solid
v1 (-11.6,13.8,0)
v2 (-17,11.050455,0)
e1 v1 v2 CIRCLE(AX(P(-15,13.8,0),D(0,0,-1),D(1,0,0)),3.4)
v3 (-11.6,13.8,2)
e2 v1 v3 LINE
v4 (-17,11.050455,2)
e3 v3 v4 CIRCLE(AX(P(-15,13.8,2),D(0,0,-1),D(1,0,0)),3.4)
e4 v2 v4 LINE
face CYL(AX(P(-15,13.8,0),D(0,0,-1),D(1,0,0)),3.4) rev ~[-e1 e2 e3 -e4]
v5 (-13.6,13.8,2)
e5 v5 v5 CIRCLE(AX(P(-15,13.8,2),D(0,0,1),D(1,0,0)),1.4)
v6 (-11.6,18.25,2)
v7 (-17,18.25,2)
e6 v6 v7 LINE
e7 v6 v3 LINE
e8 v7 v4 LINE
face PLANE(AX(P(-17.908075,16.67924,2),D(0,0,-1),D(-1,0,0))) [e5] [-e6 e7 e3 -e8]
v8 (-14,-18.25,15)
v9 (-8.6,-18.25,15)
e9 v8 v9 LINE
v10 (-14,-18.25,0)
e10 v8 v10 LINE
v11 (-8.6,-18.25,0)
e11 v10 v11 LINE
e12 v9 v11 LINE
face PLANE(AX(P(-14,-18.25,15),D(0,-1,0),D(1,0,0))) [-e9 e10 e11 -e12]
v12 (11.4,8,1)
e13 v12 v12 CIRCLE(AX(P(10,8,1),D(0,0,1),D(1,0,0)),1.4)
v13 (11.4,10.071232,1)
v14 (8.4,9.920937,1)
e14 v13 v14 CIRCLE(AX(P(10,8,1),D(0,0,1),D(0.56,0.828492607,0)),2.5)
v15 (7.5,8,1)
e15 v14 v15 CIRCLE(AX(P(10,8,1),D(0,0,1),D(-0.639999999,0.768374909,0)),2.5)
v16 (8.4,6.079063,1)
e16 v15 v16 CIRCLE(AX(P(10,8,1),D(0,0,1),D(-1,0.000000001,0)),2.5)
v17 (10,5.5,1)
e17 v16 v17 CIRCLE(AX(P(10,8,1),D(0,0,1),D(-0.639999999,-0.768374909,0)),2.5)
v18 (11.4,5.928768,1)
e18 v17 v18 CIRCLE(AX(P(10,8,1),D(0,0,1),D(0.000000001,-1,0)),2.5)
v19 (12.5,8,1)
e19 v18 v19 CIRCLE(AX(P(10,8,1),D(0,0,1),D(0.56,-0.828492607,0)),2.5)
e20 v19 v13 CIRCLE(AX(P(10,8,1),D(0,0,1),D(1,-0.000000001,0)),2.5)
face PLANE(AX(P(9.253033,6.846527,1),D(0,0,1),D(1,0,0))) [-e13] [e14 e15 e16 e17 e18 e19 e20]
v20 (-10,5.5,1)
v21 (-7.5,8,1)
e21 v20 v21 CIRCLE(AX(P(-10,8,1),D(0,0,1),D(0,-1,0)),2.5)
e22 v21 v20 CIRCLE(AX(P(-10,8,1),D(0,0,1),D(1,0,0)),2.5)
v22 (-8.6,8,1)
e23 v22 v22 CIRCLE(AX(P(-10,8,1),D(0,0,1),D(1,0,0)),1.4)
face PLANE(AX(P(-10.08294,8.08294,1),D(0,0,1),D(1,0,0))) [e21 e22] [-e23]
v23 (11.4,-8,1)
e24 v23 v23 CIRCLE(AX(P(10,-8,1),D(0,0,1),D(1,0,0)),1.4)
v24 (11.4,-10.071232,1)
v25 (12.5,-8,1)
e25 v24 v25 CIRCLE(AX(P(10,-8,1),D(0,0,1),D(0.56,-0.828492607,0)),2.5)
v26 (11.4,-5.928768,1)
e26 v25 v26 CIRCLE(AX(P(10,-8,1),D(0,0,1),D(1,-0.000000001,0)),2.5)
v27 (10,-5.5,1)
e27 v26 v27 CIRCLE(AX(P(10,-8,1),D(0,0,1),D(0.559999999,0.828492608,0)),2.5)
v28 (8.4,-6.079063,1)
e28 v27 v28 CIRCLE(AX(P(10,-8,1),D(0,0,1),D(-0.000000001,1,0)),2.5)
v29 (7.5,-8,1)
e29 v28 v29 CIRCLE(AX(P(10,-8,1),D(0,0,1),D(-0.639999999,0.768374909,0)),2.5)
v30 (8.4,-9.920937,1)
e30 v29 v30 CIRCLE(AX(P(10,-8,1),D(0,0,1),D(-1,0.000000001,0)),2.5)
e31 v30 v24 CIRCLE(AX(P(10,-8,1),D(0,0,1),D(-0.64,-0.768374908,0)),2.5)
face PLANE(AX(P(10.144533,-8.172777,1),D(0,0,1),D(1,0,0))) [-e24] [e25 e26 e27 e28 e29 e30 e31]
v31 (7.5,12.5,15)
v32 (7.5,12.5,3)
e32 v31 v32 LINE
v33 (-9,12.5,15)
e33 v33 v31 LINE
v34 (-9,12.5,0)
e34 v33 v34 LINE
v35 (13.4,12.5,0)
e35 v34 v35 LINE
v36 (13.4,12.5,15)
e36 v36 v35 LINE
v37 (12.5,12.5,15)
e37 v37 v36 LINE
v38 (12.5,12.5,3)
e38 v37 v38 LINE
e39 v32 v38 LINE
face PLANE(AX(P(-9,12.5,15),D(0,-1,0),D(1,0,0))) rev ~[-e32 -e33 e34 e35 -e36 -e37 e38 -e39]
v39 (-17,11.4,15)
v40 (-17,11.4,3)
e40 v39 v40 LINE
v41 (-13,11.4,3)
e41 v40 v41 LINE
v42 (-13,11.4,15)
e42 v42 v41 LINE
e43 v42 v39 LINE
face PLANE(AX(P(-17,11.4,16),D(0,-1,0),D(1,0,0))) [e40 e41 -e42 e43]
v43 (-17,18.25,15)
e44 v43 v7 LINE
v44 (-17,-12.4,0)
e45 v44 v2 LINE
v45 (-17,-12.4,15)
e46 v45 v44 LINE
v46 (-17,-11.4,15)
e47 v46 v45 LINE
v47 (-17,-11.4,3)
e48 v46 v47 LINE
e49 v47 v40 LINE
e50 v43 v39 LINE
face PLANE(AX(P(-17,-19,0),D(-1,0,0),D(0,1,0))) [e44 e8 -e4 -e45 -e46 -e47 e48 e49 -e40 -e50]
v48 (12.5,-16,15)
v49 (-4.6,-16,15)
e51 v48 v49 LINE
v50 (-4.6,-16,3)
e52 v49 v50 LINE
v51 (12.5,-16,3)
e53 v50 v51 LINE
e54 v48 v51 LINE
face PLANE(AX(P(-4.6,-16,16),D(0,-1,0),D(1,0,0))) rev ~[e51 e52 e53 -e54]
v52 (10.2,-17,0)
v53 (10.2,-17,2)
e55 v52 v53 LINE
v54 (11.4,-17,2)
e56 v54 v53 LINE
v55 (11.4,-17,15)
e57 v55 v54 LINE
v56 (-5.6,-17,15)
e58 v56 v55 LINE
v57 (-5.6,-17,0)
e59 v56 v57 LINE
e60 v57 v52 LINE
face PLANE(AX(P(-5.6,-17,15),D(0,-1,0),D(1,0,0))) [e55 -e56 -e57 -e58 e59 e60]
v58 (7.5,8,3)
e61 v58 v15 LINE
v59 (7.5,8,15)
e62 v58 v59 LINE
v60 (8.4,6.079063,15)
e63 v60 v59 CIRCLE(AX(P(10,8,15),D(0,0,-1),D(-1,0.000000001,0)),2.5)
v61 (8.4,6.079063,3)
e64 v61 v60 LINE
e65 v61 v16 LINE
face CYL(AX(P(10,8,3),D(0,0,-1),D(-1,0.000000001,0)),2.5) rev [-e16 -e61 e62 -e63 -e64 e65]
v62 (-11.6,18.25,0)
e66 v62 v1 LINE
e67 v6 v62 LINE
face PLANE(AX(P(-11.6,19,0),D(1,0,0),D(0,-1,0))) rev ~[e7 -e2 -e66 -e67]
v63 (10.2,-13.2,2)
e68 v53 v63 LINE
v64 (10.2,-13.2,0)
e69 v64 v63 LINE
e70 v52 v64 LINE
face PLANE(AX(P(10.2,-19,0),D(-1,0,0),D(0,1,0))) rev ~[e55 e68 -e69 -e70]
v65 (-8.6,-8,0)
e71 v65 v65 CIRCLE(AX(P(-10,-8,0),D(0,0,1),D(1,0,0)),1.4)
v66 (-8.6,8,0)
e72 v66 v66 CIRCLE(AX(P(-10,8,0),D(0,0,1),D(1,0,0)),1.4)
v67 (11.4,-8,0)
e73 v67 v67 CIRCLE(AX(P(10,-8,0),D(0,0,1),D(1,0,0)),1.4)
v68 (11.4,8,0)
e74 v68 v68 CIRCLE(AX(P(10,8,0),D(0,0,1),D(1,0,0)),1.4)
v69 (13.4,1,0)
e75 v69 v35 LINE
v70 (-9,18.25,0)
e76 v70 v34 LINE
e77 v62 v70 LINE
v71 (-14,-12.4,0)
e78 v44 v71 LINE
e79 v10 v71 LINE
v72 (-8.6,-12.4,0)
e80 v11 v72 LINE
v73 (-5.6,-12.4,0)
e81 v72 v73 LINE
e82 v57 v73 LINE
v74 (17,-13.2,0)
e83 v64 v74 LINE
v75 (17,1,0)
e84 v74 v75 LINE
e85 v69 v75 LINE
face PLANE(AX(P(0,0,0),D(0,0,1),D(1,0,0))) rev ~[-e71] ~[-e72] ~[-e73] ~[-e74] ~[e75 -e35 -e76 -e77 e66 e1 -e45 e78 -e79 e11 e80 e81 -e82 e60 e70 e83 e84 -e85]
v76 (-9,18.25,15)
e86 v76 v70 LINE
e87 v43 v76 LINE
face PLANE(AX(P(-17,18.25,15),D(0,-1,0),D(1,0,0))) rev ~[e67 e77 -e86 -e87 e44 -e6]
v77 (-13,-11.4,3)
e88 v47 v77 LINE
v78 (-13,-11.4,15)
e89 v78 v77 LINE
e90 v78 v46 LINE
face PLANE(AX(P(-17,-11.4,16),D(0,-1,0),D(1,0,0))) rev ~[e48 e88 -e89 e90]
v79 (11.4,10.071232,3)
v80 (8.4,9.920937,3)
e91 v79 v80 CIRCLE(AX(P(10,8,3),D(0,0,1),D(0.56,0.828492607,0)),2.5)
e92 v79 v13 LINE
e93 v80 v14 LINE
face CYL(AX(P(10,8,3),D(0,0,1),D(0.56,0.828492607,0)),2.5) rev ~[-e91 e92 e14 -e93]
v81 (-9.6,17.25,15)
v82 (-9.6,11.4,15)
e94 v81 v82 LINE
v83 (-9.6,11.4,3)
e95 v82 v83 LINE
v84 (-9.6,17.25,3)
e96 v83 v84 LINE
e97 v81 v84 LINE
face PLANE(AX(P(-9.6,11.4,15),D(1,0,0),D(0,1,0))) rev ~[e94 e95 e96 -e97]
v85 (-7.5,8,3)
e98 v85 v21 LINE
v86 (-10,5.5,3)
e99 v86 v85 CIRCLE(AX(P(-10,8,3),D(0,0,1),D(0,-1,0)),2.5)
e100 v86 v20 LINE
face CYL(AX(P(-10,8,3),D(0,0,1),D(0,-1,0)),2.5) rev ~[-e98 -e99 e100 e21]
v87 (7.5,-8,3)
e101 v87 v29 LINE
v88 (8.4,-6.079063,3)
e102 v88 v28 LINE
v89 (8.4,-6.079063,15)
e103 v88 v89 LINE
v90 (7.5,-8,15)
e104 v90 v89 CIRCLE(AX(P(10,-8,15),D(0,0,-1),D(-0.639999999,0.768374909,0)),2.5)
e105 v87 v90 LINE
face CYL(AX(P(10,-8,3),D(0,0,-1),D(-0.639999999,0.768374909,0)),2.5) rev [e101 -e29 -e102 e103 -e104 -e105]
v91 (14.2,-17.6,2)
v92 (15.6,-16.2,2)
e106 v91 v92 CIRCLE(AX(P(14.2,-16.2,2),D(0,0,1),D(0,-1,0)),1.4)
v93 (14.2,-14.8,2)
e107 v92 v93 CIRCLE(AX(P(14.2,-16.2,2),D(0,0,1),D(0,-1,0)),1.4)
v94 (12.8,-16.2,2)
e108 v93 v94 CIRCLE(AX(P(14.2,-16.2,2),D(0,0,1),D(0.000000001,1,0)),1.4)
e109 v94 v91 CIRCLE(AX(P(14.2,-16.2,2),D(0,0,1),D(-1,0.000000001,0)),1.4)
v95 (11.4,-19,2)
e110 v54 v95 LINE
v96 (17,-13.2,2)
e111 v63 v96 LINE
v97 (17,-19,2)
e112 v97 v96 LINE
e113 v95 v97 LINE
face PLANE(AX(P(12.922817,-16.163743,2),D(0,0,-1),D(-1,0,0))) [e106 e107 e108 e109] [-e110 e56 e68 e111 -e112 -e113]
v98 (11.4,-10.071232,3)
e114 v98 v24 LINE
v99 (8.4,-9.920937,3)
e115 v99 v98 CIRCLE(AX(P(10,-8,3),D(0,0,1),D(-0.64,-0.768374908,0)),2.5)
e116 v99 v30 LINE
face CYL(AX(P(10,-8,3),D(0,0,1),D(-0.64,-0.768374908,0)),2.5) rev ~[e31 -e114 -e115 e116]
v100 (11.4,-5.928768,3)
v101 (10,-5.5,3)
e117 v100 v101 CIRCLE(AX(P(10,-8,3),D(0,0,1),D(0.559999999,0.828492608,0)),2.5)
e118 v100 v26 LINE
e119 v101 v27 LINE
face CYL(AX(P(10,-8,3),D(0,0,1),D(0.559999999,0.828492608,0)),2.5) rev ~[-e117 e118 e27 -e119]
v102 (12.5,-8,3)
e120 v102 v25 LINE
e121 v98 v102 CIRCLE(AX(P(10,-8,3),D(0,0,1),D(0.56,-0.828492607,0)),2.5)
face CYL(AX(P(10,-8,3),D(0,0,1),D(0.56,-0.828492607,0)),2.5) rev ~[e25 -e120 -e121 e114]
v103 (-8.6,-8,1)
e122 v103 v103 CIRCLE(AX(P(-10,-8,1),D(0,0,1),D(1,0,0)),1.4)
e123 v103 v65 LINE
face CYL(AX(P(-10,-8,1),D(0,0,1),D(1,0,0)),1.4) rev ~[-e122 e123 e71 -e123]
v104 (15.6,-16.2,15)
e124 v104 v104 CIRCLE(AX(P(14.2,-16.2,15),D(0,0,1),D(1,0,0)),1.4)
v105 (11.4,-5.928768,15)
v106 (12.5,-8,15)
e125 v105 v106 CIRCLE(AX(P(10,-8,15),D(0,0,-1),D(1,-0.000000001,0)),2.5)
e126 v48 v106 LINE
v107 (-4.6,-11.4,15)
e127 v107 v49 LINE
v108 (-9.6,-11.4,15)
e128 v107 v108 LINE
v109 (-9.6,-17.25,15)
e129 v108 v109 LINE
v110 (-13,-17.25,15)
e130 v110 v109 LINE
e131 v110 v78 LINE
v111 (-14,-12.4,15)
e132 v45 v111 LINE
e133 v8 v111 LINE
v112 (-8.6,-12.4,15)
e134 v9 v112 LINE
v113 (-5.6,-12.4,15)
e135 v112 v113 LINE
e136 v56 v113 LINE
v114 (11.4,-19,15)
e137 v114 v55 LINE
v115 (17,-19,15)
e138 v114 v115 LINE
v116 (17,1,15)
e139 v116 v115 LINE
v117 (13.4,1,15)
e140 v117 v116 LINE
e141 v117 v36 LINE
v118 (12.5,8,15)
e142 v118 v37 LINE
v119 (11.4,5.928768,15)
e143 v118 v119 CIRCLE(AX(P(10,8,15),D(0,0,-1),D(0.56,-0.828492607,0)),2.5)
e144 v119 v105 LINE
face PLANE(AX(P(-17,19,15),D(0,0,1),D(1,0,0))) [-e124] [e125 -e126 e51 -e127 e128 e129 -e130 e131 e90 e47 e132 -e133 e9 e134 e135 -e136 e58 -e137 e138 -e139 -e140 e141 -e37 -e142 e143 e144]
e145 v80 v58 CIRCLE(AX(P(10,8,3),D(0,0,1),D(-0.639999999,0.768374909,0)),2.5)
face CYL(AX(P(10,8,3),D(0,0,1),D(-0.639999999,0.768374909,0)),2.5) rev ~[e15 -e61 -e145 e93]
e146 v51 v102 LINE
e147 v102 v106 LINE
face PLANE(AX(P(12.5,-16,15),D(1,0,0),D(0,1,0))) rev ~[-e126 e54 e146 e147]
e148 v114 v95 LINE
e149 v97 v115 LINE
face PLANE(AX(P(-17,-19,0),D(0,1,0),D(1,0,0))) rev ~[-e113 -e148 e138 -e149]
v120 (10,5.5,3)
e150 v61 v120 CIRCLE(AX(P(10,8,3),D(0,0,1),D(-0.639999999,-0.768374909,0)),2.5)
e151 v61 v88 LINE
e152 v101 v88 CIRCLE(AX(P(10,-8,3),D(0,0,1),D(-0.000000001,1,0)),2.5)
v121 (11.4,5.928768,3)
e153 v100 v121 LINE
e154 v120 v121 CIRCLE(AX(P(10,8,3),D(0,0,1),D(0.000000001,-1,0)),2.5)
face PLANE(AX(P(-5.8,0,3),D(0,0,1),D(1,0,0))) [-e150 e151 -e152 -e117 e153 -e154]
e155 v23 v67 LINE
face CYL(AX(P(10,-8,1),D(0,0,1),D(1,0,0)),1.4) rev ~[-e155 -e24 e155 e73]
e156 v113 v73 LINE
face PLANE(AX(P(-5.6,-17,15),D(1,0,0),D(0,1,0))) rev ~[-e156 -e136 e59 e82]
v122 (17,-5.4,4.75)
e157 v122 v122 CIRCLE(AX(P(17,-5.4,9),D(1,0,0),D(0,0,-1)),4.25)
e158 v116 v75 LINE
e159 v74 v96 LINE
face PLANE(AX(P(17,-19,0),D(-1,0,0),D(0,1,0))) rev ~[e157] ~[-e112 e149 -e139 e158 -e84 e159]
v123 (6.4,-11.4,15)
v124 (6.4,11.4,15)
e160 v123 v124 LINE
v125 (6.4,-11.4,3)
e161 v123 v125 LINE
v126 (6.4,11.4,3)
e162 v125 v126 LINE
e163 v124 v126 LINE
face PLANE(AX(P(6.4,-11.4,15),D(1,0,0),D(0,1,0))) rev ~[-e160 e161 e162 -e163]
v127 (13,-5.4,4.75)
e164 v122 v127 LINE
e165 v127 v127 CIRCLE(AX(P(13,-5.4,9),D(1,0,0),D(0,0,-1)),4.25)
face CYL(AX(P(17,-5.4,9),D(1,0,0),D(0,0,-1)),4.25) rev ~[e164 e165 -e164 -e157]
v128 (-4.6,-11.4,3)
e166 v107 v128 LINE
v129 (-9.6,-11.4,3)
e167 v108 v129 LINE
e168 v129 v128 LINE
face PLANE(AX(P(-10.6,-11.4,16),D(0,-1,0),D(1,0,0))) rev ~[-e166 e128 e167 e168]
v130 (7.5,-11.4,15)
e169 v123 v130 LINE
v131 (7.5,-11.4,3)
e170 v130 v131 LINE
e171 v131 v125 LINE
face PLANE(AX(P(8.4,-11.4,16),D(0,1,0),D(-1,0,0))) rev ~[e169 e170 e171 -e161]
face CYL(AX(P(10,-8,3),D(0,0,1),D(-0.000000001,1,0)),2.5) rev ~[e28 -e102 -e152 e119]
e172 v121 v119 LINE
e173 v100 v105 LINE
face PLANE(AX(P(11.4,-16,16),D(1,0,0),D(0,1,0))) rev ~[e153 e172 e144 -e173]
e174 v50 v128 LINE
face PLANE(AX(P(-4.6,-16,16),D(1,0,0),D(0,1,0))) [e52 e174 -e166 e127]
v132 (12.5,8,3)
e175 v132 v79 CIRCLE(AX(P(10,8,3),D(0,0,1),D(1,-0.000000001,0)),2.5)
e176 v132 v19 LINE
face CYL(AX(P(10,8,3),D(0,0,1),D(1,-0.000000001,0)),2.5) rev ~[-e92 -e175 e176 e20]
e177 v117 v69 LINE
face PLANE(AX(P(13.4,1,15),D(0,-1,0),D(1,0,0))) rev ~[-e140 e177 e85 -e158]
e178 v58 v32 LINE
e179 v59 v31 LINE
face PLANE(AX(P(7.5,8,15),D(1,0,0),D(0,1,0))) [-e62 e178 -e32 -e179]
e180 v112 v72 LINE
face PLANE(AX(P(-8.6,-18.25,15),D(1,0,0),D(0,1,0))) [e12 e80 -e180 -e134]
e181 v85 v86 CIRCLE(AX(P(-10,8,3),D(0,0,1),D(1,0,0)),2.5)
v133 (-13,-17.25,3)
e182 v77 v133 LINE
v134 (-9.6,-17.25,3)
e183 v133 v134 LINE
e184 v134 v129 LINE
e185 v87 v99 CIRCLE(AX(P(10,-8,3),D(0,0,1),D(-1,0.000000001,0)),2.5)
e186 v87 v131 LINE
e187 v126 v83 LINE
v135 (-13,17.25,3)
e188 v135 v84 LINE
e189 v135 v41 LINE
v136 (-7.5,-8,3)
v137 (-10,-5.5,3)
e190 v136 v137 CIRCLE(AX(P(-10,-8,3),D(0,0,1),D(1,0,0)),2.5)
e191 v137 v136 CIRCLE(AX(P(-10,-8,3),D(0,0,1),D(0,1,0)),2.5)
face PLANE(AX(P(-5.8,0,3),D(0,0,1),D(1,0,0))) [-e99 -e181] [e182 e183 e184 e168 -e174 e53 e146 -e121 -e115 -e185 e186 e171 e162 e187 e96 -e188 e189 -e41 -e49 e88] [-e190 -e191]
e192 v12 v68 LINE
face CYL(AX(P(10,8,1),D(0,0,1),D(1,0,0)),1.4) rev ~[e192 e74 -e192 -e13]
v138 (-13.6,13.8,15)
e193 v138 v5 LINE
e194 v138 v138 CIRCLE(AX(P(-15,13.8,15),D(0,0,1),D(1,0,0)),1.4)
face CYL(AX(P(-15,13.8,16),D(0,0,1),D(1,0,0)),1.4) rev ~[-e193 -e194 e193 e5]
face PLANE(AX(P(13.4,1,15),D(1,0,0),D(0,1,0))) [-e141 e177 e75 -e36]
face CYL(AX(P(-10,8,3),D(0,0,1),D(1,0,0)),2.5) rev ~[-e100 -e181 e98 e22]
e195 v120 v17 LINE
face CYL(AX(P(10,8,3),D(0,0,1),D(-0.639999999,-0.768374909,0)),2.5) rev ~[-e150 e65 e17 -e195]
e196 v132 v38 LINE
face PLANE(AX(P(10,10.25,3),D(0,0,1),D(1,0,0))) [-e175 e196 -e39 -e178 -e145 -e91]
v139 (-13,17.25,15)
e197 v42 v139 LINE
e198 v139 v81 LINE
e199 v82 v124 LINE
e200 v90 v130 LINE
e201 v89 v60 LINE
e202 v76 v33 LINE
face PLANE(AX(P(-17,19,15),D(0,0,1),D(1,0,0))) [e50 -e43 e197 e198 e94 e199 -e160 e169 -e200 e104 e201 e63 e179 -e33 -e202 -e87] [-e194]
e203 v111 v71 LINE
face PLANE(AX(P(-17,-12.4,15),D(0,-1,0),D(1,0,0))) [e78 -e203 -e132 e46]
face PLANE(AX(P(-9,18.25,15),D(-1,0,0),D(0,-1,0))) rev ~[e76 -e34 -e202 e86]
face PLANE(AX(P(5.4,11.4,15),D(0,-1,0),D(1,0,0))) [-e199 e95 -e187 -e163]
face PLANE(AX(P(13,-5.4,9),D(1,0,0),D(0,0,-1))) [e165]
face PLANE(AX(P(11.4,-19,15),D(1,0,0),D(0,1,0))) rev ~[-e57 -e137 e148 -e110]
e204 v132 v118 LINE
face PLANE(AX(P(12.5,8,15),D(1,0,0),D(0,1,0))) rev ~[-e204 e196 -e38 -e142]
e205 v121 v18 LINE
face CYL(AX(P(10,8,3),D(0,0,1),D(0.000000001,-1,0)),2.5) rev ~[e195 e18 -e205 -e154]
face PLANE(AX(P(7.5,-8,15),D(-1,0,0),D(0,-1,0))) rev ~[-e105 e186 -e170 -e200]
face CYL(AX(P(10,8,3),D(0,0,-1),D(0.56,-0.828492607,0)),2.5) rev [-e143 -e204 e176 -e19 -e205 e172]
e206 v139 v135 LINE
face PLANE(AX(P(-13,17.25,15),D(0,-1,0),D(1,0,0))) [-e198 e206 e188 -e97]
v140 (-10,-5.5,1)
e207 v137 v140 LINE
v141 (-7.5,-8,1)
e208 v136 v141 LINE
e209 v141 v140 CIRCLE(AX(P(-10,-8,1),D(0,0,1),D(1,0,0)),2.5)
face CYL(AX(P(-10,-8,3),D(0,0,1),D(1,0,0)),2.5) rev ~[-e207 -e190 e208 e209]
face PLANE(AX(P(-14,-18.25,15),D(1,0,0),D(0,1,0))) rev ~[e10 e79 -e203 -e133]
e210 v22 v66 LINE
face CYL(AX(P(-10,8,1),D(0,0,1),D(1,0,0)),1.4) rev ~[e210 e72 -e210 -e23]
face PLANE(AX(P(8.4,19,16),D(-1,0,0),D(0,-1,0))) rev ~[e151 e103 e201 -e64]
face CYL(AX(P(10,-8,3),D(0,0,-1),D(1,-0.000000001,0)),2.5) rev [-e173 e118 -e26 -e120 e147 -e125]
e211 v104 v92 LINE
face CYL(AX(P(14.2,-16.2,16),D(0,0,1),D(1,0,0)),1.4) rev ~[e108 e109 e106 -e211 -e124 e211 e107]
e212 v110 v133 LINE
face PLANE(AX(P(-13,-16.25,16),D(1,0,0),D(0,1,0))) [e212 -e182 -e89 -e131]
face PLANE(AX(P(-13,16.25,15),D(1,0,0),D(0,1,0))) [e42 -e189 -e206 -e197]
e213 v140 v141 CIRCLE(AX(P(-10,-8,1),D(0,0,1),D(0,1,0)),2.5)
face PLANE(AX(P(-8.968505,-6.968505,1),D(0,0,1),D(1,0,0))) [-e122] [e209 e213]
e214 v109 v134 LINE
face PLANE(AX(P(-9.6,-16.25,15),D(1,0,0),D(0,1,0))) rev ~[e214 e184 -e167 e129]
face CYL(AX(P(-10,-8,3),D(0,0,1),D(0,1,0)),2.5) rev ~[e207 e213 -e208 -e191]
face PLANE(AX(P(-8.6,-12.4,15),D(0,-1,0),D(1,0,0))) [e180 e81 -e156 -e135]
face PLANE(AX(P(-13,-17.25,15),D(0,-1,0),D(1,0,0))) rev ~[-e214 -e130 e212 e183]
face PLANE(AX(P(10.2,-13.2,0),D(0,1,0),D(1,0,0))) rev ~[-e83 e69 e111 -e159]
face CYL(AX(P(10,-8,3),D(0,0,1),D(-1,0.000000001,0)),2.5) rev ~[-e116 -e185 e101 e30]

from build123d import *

# Parameters (mm, degrees)
SKETCH1_W                = 34
SKETCH1_H                = 38
BOSS_EXTRUDE1_DEPTH      = 16
SKETCH2_W                = 22.4
SKETCH2_H                = 22.8
SKETCH2_W_2              = 2.4
SKETCH2_H_2              = 4.85
CUT_EXTRUDE1_DEPTH       = 13
SKETCH3_W                = 10
SKETCH3_H                = 4.6
SKETCH3_W_2              = 3
CUT_EXTRUDE2_DEPTH       = 13
SKETCH4_R                = 1.4
CUT_EXTRUDE3_DEPTH       = 17
CUT_EXTRUDE5_DEPTH       = 2
SKETCH7_W                = 34
SKETCH7_H                = 1
CUT_EXTRUDE6_DEPTH       = 39
SKETCH9_W                = 8
SKETCH9_H                = 0.75
SKETCH9_W_2              = 5
SKETCH9_H_2              = 6.5
SKETCH9_W_3              = 3.6
SKETCH9_H_3              = 11.5
SKETCH9_W_4              = 17
SKETCH9_H_4              = 2
SKETCH9_W_5              = 3
SKETCH9_H_5              = 6.6
SKETCH9_W_6              = 5.4
CUT_EXTRUDE9_DEPTH       = 16
CUT_EXTRUDE10_DEPTH      = 13
CUT_EXTRUDE10_DEPTH_BACK = 2
SKETCH11_W               = 5
SKETCH11_H               = 4.5
CUT_EXTRUDE11_DEPTH      = 12
SKETCH12_W               = 1
SKETCH12_H               = 4.85
SKETCH12_H_2             = 22.8
CUT_EXTRUDE12_DEPTH      = 12
SKETCH14_R               = 4.25
CUT_EXTRUDE13_DEPTH      = 4
SKETCH17_W               = 3.4
SKETCH17_H               = 1
CUT_EXTRUDE16_DEPTH      = 12
SKETCH18_R               = 1.4
CUT_EXTRUDE17_DEPTH      = 12


with BuildPart() as part:
    # Sketch1 → Boss-Extrude1 (new body)
    with BuildSketch(Plane.XY):
        Rectangle(SKETCH1_W, SKETCH1_H)
    extrude(amount=BOSS_EXTRUDE1_DEPTH)

    # Sketch2 → Cut-Extrude1 (cut)
    with BuildSketch(Plane.XY.offset(16)):
        with Locations((-5.8, 0)):
            Rectangle(SKETCH2_W, SKETCH2_H)
        with Locations((-11.8, -13.825)):
            Rectangle(SKETCH2_W_2, SKETCH2_H_2)
        with Locations((-11.8, 13.825)):
            Rectangle(SKETCH2_W_2, SKETCH2_H_2)
    extrude(amount=-CUT_EXTRUDE1_DEPTH, mode=Mode.SUBTRACT)

    # Sketch3 → Cut-Extrude2 (cut)
    with BuildSketch(Plane.XY.offset(16)):
        Polygon((8.4, 19), (8.4, -11.4), (8.4, -16), (11.4, -16), (11.4, 19), align=None)
        with Locations((0.4, -13.7)):
            Rectangle(SKETCH3_W, SKETCH3_H)
        with Locations((6.9, -13.7)):
            Rectangle(SKETCH3_W_2, SKETCH3_H)
    extrude(amount=-CUT_EXTRUDE2_DEPTH, mode=Mode.SUBTRACT)

    # Sketch4 → Cut-Extrude3 (cut, through all)
    with BuildSketch(Plane.XY.offset(16)):
        with Locations((-15, 13.8)):
            Circle(SKETCH4_R)
        with Locations((14.2, -16.2)):
            Circle(SKETCH4_R)
    extrude(amount=-CUT_EXTRUDE3_DEPTH, mode=Mode.SUBTRACT)

    # Sketch5 → Cut-Extrude5 (cut)
    with BuildSketch(Plane(origin=(0, 0, 0), x_dir=(-1, 0, 0), z_dir=(0, 0, -1))):
        with BuildLine():
            Line((-14.2, -19), (-13.122967039, -19))
            ThreePointArc((-13.122967039, -19), (-11.727036304, -17.898367027), (-11.2, -16.2))
            ThreePointArc((-11.2, -16.2), (-12.078679656, -14.078679656), (-14.2, -13.2))
            Line((-14.2, -13.2), (-14.2, -14.8))
            ThreePointArc((-14.2, -14.8), (-13.210050506, -15.210050506), (-12.8, -16.2))
            ThreePointArc((-12.8, -16.2), (-13.210050506, -17.189949494), (-14.2, -17.6))
            Line((-14.2, -17.6), (-14.2, -19))
        make_face()
        with BuildLine():
            Line((-14.2, -14.8), (-14.2, -13.2))
            ThreePointArc((-14.2, -13.2), (-15.898367027, -13.727036304), (-17, -15.122967039))
            Line((-17, -15.122967039), (-17, -17.277032961))
            ThreePointArc((-17, -17.277032961), (-16.321320344, -18.321320344), (-15.277032961, -19))
            Line((-15.277032961, -19), (-14.2, -19))
            Line((-14.2, -19), (-14.2, -17.6))
            ThreePointArc((-14.2, -17.6), (-15.6, -16.2), (-14.2, -14.8))
        make_face()
        with BuildLine():
            Line((-17, -19), (-15.277032961, -19))
            ThreePointArc((-15.277032961, -19), (-16.321320344, -18.321320344), (-17, -17.277032961))
            Line((-17, -17.277032961), (-17, -19))
        make_face()
        with BuildLine():
            Line((-14.2, -13.2), (-17, -13.2))
            Line((-17, -13.2), (-17, -15.122967039))
            ThreePointArc((-17, -15.122967039), (-15.898367027, -13.727036304), (-14.2, -13.2))
        make_face()
        with BuildLine():
            Line((-17, -17.277032961), (-17, -15.122967039))
            ThreePointArc((-17, -15.122967039), (-17.2, -16.2), (-17, -17.277032961))
        make_face()
        with BuildLine():
            ThreePointArc((-14.2, -19.2), (-13.652277442, -19.149576241), (-13.122967039, -19))
            Line((-13.122967039, -19), (-14.2, -19))
            Line((-14.2, -19), (-14.2, -19.2))
        make_face()
        with BuildLine():
            ThreePointArc((-15.277032961, -19), (-14.747722558, -19.149576241), (-14.2, -19.2))
            Line((-14.2, -19.2), (-14.2, -19))
            Line((-14.2, -19), (-15.277032961, -19))
        make_face()
        with BuildLine():
            Line((-17, -19.2), (-14.2, -19.2))
            ThreePointArc((-14.2, -19.2), (-14.747722558, -19.149576241), (-15.277032961, -19))
            Line((-15.277032961, -19), (-17, -19))
            Line((-17, -19), (-17, -19.2))
        make_face()
        with BuildLine():
            ThreePointArc((-14.2, -19.2), (-13.652277442, -19.149576241), (-13.122967039, -19))
            Line((-13.122967039, -19), (-14.2, -19))
            Line((-14.2, -19), (-14.2, -19.2))
        make_face()
        with BuildLine():
            ThreePointArc((-15.277032961, -19), (-14.747722558, -19.149576241), (-14.2, -19.2))
            Line((-14.2, -19.2), (-14.2, -19))
            Line((-14.2, -19), (-15.277032961, -19))
        make_face()
        with BuildLine():
            ThreePointArc((17, 16.549545417), (18.029851482, 15.342724862), (18.4, 13.8))
            Line((18.4, 13.8), (18.4, 19))
            Line((18.4, 19), (17, 19))
            Line((17, 19), (17, 16.549545417))
        make_face()
        with BuildLine():
            ThreePointArc((11.6, 13.8), (13.457275138, 16.829851482), (17, 16.549545417))
            Line((17, 16.549545417), (17, 19))
            Line((17, 19), (11.6, 19))
            Line((11.6, 19), (11.6, 13.8))
        make_face()
        with BuildLine():
            Line((17, 11.050454583), (17, 13.8))
            Line((17, 13.8), (16.4, 13.8))
            ThreePointArc((16.4, 13.8), (15, 12.4), (13.6, 13.8))
            Line((13.6, 13.8), (11.6, 13.8))
            ThreePointArc((11.6, 13.8), (13.457275138, 10.770148518), (17, 11.050454583))
        make_face()
        with BuildLine():
            Line((16.4, 13.8), (17, 13.8))
            Line((17, 13.8), (17, 16.549545417))
            ThreePointArc((17, 16.549545417), (13.457275138, 16.829851482), (11.6, 13.8))
            Line((11.6, 13.8), (13.6, 13.8))
            ThreePointArc((13.6, 13.8), (15, 15.2), (16.4, 13.8))
        make_face()
        with BuildLine():
            ThreePointArc((17, 11.050454583), (18.029851482, 12.257275138), (18.4, 13.8))
            Line((18.4, 13.8), (17, 13.8))
            Line((17, 13.8), (17, 11.050454583))
        make_face()
        with BuildLine():
            Line((17, 13.8), (18.4, 13.8))
            ThreePointArc((18.4, 13.8), (18.029851482, 15.342724862), (17, 16.549545417))
            Line((17, 16.549545417), (17, 13.8))
        make_face()
        with BuildLine():
            ThreePointArc((17, 11.050454583), (18.029851482, 12.257275138), (18.4, 13.8))
            Line((18.4, 13.8), (17, 13.8))
            Line((17, 13.8), (17, 11.050454583))
        make_face()
        with BuildLine():
            Line((17, 13.8), (18.4, 13.8))
            ThreePointArc((18.4, 13.8), (18.029851482, 15.342724862), (17, 16.549545417))
            Line((17, 16.549545417), (17, 13.8))
        make_face()
        with BuildLine():
            Line((17, 11.050454583), (17, 13.8))
            Line((17, 13.8), (16.4, 13.8))
            ThreePointArc((16.4, 13.8), (15, 12.4), (13.6, 13.8))
            Line((13.6, 13.8), (11.6, 13.8))
            ThreePointArc((11.6, 13.8), (13.457275138, 10.770148518), (17, 11.050454583))
        make_face()
        with BuildLine():
            Line((16.4, 13.8), (17, 13.8))
            Line((17, 13.8), (17, 16.549545417))
            ThreePointArc((17, 16.549545417), (13.457275138, 16.829851482), (11.6, 13.8))
            Line((11.6, 13.8), (13.6, 13.8))
            ThreePointArc((13.6, 13.8), (15, 15.2), (16.4, 13.8))
        make_face()
        with BuildLine():
            Line((-13.122967039, -19), (-10.2, -19))
            Line((-10.2, -19), (-10.2, -13.2))
            Line((-10.2, -13.2), (-14.2, -13.2))
            ThreePointArc((-14.2, -13.2), (-12.078679656, -14.078679656), (-11.2, -16.2))
            ThreePointArc((-11.2, -16.2), (-11.727036304, -17.898367027), (-13.122967039, -19))
        make_face()
    extrude(amount=-CUT_EXTRUDE5_DEPTH, mode=Mode.SUBTRACT)

    # Sketch7 → Cut-Extrude6 (cut, through all)
    with BuildSketch(Plane(origin=(0, 19, 0), x_dir=(1, 0, 0), z_dir=(0, 1, 0))):
        with Locations((0, -15.5)):
            Rectangle(SKETCH7_W, SKETCH7_H)
    extrude(amount=-CUT_EXTRUDE6_DEPTH, mode=Mode.SUBTRACT)

    # Sketch9 → Cut-Extrude9 (cut, through all)
    with BuildSketch(Plane.XY.offset(15)):
        Polygon((8.4, 19), (-9, 19), (-9, 18.25), (-9, 12.5), (8.4, 12.5), align=None)
        with Locations((-13, 18.625)):
            Rectangle(SKETCH9_W, SKETCH9_H)
        with Locations((10.9, 15.75)):
            Rectangle(SKETCH9_W_2, SKETCH9_H_2)
        with Locations((15.2, 15.75)):
            Rectangle(SKETCH9_W_3, SKETCH9_H_2)
        with Locations((15.2, 6.75)):
            Rectangle(SKETCH9_W_3, SKETCH9_H_3)
        with Locations((2.9, -18)):
            Rectangle(SKETCH9_W_4, SKETCH9_H_4)
        with Locations((-7.1, -15.7)):
            Rectangle(SKETCH9_W_5, SKETCH9_H_5)
        with Locations((-11.3, -18.625)):
            Rectangle(SKETCH9_W_6, SKETCH9_H)
        with Locations((-15.5, -15.7)):
            Rectangle(SKETCH9_W_5, SKETCH9_H_5)
    extrude(amount=-CUT_EXTRUDE9_DEPTH, mode=Mode.SUBTRACT)

    # Sketch10 → Cut-Extrude10 (cut, two sides)
    with BuildSketch(Plane.XY.offset(3)) as cut_extrude10_sk:
        with BuildLine():
            Line((-10, 5.5), (-10, 8))
            Line((-10, 8), (-7.5, 8))
            ThreePointArc((-7.5, 8), (-11.767766953, 9.767766953), (-10, 5.5))
        make_face()
        with BuildLine():
            Line((-7.5, 8), (-10, 8))
            Line((-10, 8), (-10, 5.5))
            ThreePointArc((-10, 5.5), (-8.232233047, 6.232233047), (-7.5, 8))
        make_face()
        with BuildLine():
            Line((-10, 5.5), (-10, 8))
            Line((-10, 8), (-7.5, 8))
            ThreePointArc((-7.5, 8), (-11.767766953, 9.767766953), (-10, 5.5))
        make_face()
        with BuildLine():
            Line((-7.5, 8), (-10, 8))
            Line((-10, 8), (-10, 5.5))
            ThreePointArc((-10, 5.5), (-8.232233047, 6.232233047), (-7.5, 8))
        make_face()
        with BuildLine():
            Line((10, 8), (8.4, 8))
            Line((8.4, 8), (8.4, 6.079062729))
            ThreePointArc((8.4, 6.079062729), (9.149218941, 5.649218941), (10, 5.5))
            Line((10, 5.5), (10, 8))
        make_face()
        with BuildLine():
            Line((8.4, 9.920937271), (8.4, 8))
            Line((8.4, 8), (10, 8))
            Line((10, 8), (10, 5.5))
            ThreePointArc((10, 5.5), (10.732093302, 5.609594303), (11.4, 5.928768482))
            Line((11.4, 5.928768482), (11.4, 10.071231518))
            ThreePointArc((11.4, 10.071231518), (9.874911671, 10.496868621), (8.4, 9.920937271))
        make_face()
        with BuildLine():
            ThreePointArc((12.5, 8), (12.207940217, 9.17260394), (11.4, 10.071231518))
            Line((11.4, 10.071231518), (11.4, 5.928768482))
            ThreePointArc((11.4, 5.928768482), (12.207940217, 6.82739606), (12.5, 8))
        make_face()
        with BuildLine():
            ThreePointArc((8.4, 9.920937271), (7.736153715, 9.060660172), (7.5, 8))
            Line((7.5, 8), (8.4, 8))
            Line((8.4, 8), (8.4, 9.920937271))
        make_face()
        with BuildLine():
            Line((8.4, 8), (7.5, 8))
            ThreePointArc((7.5, 8), (7.736153715, 6.939339828), (8.4, 6.079062729))
            Line((8.4, 6.079062729), (8.4, 8))
        make_face()
        with BuildLine():
            ThreePointArc((8.4, 9.920937271), (7.736153715, 9.060660172), (7.5, 8))
            Line((7.5, 8), (8.4, 8))
            Line((8.4, 8), (8.4, 9.920937271))
        make_face()
        with BuildLine():
            Line((8.4, 8), (7.5, 8))
            ThreePointArc((7.5, 8), (7.736153715, 6.939339828), (8.4, 6.079062729))
            Line((8.4, 6.079062729), (8.4, 8))
        make_face()
        with BuildLine():
            ThreePointArc((-7.5, -8), (-8.232233047, -6.232233047), (-10, -5.5))
            Line((-10, -5.5), (-10, -8))
            Line((-10, -8), (-7.5, -8))
        make_face()
        with BuildLine():
            Line((-10, -8), (-10, -5.5))
            ThreePointArc((-10, -5.5), (-11.767766953, -9.767766953), (-7.5, -8))
            Line((-7.5, -8), (-10, -8))
        make_face()
        with BuildLine():
            ThreePointArc((-7.5, -8), (-8.232233047, -6.232233047), (-10, -5.5))
            Line((-10, -5.5), (-10, -8))
            Line((-10, -8), (-7.5, -8))
        make_face()
        with BuildLine():
            Line((-10, -8), (-10, -5.5))
            ThreePointArc((-10, -5.5), (-11.767766953, -9.767766953), (-7.5, -8))
            Line((-7.5, -8), (-10, -8))
        make_face()
        with BuildLine():
            ThreePointArc((11.4, -5.928768482), (10.732093302, -5.609594303), (10, -5.5))
            Line((10, -5.5), (10, -8))
            Line((10, -8), (8.4, -8))
            Line((8.4, -8), (8.4, -9.920937271))
            ThreePointArc((8.4, -9.920937271), (9.874911671, -10.496868621), (11.4, -10.071231518))
            Line((11.4, -10.071231518), (11.4, -5.928768482))
        make_face()
        with BuildLine():
            ThreePointArc((12.5, -8), (12.207940217, -6.82739606), (11.4, -5.928768482))
            Line((11.4, -5.928768482), (11.4, -10.071231518))
            ThreePointArc((11.4, -10.071231518), (12.207940217, -9.17260394), (12.5, -8))
        make_face()
        with BuildLine():
            ThreePointArc((10, -5.5), (9.149218941, -5.649218941), (8.4, -6.079062729))
            Line((8.4, -6.079062729), (8.4, -8))
            Line((8.4, -8), (10, -8))
            Line((10, -8), (10, -5.5))
        make_face()
        with BuildLine():
            Line((8.4, -8), (8.4, -6.079062729))
            ThreePointArc((8.4, -6.079062729), (7.736153715, -6.939339828), (7.5, -8))
            Line((7.5, -8), (8.4, -8))
        make_face()
        with BuildLine():
            Line((8.4, -8), (7.5, -8))
            ThreePointArc((7.5, -8), (7.736153715, -9.060660172), (8.4, -9.920937271))
            Line((8.4, -9.920937271), (8.4, -8))
        make_face()
        with BuildLine():
            Line((8.4, -8), (8.4, -6.079062729))
            ThreePointArc((8.4, -6.079062729), (7.736153715, -6.939339828), (7.5, -8))
            Line((7.5, -8), (8.4, -8))
        make_face()
        with BuildLine():
            Line((8.4, -8), (7.5, -8))
            ThreePointArc((7.5, -8), (7.736153715, -9.060660172), (8.4, -9.920937271))
            Line((8.4, -9.920937271), (8.4, -8))
        make_face()
    extrude(amount=CUT_EXTRUDE10_DEPTH, mode=Mode.SUBTRACT)
    extrude(cut_extrude10_sk.sketch, amount=-CUT_EXTRUDE10_DEPTH_BACK, mode=Mode.SUBTRACT)

    # Sketch11 → Cut-Extrude11 (cut)
    with BuildSketch(Plane.XY.offset(15)):
        Polygon((12.5, -8), (7.5, -8), (7.5, -11.4), (11.4, -11.4), (11.4, -16), (12.5, -16), (12.5, -11.4), align=None)
        with Locations((10, 10.25)):
            Rectangle(SKETCH11_W, SKETCH11_H)
    extrude(amount=-CUT_EXTRUDE11_DEPTH, mode=Mode.SUBTRACT)

    # Sketch12 → Cut-Extrude12 (cut)
    with BuildSketch(Plane.XY.offset(15)):
        with Locations((-10.1, 13.825)):
            Rectangle(SKETCH12_W, SKETCH12_H)
        with Locations((-10.1, -13.825)):
            Rectangle(SKETCH12_W, SKETCH12_H)
        with Locations((5.9, 0)):
            Rectangle(SKETCH12_W, SKETCH12_H_2)
    extrude(amount=-CUT_EXTRUDE12_DEPTH, mode=Mode.SUBTRACT)

    # Sketch14 → Cut-Extrude13 (cut)
    with BuildSketch(Plane(origin=(17, 0, 0), x_dir=(0, 0, -1), z_dir=(1, 0, 0))):
        with Locations((-9, -5.4)):
            Circle(SKETCH14_R)
    extrude(amount=-CUT_EXTRUDE13_DEPTH, mode=Mode.SUBTRACT)

    # Sketch17 → Cut-Extrude16 (cut)
    with BuildSketch(Plane.XY.offset(15)):
        with Locations((-11.3, 16.75)):
            Rectangle(SKETCH17_W, SKETCH17_H)
        with Locations((-11.3, -16.75)):
            Rectangle(SKETCH17_W, SKETCH17_H)
    extrude(amount=-CUT_EXTRUDE16_DEPTH, mode=Mode.SUBTRACT)

    # Sketch18 → Cut-Extrude17 (cut)
    with BuildSketch(Plane.XY.offset(1)):
        with Locations((-10, 8)):
            Circle(SKETCH18_R)
        with Locations((10, 8)):
            Circle(SKETCH18_R)
        with Locations((-10, -8)):
            Circle(SKETCH18_R)
        with Locations((10, -8)):
            Circle(SKETCH18_R)
    extrude(amount=-CUT_EXTRUDE17_DEPTH, mode=Mode.SUBTRACT)


solid = part.part
